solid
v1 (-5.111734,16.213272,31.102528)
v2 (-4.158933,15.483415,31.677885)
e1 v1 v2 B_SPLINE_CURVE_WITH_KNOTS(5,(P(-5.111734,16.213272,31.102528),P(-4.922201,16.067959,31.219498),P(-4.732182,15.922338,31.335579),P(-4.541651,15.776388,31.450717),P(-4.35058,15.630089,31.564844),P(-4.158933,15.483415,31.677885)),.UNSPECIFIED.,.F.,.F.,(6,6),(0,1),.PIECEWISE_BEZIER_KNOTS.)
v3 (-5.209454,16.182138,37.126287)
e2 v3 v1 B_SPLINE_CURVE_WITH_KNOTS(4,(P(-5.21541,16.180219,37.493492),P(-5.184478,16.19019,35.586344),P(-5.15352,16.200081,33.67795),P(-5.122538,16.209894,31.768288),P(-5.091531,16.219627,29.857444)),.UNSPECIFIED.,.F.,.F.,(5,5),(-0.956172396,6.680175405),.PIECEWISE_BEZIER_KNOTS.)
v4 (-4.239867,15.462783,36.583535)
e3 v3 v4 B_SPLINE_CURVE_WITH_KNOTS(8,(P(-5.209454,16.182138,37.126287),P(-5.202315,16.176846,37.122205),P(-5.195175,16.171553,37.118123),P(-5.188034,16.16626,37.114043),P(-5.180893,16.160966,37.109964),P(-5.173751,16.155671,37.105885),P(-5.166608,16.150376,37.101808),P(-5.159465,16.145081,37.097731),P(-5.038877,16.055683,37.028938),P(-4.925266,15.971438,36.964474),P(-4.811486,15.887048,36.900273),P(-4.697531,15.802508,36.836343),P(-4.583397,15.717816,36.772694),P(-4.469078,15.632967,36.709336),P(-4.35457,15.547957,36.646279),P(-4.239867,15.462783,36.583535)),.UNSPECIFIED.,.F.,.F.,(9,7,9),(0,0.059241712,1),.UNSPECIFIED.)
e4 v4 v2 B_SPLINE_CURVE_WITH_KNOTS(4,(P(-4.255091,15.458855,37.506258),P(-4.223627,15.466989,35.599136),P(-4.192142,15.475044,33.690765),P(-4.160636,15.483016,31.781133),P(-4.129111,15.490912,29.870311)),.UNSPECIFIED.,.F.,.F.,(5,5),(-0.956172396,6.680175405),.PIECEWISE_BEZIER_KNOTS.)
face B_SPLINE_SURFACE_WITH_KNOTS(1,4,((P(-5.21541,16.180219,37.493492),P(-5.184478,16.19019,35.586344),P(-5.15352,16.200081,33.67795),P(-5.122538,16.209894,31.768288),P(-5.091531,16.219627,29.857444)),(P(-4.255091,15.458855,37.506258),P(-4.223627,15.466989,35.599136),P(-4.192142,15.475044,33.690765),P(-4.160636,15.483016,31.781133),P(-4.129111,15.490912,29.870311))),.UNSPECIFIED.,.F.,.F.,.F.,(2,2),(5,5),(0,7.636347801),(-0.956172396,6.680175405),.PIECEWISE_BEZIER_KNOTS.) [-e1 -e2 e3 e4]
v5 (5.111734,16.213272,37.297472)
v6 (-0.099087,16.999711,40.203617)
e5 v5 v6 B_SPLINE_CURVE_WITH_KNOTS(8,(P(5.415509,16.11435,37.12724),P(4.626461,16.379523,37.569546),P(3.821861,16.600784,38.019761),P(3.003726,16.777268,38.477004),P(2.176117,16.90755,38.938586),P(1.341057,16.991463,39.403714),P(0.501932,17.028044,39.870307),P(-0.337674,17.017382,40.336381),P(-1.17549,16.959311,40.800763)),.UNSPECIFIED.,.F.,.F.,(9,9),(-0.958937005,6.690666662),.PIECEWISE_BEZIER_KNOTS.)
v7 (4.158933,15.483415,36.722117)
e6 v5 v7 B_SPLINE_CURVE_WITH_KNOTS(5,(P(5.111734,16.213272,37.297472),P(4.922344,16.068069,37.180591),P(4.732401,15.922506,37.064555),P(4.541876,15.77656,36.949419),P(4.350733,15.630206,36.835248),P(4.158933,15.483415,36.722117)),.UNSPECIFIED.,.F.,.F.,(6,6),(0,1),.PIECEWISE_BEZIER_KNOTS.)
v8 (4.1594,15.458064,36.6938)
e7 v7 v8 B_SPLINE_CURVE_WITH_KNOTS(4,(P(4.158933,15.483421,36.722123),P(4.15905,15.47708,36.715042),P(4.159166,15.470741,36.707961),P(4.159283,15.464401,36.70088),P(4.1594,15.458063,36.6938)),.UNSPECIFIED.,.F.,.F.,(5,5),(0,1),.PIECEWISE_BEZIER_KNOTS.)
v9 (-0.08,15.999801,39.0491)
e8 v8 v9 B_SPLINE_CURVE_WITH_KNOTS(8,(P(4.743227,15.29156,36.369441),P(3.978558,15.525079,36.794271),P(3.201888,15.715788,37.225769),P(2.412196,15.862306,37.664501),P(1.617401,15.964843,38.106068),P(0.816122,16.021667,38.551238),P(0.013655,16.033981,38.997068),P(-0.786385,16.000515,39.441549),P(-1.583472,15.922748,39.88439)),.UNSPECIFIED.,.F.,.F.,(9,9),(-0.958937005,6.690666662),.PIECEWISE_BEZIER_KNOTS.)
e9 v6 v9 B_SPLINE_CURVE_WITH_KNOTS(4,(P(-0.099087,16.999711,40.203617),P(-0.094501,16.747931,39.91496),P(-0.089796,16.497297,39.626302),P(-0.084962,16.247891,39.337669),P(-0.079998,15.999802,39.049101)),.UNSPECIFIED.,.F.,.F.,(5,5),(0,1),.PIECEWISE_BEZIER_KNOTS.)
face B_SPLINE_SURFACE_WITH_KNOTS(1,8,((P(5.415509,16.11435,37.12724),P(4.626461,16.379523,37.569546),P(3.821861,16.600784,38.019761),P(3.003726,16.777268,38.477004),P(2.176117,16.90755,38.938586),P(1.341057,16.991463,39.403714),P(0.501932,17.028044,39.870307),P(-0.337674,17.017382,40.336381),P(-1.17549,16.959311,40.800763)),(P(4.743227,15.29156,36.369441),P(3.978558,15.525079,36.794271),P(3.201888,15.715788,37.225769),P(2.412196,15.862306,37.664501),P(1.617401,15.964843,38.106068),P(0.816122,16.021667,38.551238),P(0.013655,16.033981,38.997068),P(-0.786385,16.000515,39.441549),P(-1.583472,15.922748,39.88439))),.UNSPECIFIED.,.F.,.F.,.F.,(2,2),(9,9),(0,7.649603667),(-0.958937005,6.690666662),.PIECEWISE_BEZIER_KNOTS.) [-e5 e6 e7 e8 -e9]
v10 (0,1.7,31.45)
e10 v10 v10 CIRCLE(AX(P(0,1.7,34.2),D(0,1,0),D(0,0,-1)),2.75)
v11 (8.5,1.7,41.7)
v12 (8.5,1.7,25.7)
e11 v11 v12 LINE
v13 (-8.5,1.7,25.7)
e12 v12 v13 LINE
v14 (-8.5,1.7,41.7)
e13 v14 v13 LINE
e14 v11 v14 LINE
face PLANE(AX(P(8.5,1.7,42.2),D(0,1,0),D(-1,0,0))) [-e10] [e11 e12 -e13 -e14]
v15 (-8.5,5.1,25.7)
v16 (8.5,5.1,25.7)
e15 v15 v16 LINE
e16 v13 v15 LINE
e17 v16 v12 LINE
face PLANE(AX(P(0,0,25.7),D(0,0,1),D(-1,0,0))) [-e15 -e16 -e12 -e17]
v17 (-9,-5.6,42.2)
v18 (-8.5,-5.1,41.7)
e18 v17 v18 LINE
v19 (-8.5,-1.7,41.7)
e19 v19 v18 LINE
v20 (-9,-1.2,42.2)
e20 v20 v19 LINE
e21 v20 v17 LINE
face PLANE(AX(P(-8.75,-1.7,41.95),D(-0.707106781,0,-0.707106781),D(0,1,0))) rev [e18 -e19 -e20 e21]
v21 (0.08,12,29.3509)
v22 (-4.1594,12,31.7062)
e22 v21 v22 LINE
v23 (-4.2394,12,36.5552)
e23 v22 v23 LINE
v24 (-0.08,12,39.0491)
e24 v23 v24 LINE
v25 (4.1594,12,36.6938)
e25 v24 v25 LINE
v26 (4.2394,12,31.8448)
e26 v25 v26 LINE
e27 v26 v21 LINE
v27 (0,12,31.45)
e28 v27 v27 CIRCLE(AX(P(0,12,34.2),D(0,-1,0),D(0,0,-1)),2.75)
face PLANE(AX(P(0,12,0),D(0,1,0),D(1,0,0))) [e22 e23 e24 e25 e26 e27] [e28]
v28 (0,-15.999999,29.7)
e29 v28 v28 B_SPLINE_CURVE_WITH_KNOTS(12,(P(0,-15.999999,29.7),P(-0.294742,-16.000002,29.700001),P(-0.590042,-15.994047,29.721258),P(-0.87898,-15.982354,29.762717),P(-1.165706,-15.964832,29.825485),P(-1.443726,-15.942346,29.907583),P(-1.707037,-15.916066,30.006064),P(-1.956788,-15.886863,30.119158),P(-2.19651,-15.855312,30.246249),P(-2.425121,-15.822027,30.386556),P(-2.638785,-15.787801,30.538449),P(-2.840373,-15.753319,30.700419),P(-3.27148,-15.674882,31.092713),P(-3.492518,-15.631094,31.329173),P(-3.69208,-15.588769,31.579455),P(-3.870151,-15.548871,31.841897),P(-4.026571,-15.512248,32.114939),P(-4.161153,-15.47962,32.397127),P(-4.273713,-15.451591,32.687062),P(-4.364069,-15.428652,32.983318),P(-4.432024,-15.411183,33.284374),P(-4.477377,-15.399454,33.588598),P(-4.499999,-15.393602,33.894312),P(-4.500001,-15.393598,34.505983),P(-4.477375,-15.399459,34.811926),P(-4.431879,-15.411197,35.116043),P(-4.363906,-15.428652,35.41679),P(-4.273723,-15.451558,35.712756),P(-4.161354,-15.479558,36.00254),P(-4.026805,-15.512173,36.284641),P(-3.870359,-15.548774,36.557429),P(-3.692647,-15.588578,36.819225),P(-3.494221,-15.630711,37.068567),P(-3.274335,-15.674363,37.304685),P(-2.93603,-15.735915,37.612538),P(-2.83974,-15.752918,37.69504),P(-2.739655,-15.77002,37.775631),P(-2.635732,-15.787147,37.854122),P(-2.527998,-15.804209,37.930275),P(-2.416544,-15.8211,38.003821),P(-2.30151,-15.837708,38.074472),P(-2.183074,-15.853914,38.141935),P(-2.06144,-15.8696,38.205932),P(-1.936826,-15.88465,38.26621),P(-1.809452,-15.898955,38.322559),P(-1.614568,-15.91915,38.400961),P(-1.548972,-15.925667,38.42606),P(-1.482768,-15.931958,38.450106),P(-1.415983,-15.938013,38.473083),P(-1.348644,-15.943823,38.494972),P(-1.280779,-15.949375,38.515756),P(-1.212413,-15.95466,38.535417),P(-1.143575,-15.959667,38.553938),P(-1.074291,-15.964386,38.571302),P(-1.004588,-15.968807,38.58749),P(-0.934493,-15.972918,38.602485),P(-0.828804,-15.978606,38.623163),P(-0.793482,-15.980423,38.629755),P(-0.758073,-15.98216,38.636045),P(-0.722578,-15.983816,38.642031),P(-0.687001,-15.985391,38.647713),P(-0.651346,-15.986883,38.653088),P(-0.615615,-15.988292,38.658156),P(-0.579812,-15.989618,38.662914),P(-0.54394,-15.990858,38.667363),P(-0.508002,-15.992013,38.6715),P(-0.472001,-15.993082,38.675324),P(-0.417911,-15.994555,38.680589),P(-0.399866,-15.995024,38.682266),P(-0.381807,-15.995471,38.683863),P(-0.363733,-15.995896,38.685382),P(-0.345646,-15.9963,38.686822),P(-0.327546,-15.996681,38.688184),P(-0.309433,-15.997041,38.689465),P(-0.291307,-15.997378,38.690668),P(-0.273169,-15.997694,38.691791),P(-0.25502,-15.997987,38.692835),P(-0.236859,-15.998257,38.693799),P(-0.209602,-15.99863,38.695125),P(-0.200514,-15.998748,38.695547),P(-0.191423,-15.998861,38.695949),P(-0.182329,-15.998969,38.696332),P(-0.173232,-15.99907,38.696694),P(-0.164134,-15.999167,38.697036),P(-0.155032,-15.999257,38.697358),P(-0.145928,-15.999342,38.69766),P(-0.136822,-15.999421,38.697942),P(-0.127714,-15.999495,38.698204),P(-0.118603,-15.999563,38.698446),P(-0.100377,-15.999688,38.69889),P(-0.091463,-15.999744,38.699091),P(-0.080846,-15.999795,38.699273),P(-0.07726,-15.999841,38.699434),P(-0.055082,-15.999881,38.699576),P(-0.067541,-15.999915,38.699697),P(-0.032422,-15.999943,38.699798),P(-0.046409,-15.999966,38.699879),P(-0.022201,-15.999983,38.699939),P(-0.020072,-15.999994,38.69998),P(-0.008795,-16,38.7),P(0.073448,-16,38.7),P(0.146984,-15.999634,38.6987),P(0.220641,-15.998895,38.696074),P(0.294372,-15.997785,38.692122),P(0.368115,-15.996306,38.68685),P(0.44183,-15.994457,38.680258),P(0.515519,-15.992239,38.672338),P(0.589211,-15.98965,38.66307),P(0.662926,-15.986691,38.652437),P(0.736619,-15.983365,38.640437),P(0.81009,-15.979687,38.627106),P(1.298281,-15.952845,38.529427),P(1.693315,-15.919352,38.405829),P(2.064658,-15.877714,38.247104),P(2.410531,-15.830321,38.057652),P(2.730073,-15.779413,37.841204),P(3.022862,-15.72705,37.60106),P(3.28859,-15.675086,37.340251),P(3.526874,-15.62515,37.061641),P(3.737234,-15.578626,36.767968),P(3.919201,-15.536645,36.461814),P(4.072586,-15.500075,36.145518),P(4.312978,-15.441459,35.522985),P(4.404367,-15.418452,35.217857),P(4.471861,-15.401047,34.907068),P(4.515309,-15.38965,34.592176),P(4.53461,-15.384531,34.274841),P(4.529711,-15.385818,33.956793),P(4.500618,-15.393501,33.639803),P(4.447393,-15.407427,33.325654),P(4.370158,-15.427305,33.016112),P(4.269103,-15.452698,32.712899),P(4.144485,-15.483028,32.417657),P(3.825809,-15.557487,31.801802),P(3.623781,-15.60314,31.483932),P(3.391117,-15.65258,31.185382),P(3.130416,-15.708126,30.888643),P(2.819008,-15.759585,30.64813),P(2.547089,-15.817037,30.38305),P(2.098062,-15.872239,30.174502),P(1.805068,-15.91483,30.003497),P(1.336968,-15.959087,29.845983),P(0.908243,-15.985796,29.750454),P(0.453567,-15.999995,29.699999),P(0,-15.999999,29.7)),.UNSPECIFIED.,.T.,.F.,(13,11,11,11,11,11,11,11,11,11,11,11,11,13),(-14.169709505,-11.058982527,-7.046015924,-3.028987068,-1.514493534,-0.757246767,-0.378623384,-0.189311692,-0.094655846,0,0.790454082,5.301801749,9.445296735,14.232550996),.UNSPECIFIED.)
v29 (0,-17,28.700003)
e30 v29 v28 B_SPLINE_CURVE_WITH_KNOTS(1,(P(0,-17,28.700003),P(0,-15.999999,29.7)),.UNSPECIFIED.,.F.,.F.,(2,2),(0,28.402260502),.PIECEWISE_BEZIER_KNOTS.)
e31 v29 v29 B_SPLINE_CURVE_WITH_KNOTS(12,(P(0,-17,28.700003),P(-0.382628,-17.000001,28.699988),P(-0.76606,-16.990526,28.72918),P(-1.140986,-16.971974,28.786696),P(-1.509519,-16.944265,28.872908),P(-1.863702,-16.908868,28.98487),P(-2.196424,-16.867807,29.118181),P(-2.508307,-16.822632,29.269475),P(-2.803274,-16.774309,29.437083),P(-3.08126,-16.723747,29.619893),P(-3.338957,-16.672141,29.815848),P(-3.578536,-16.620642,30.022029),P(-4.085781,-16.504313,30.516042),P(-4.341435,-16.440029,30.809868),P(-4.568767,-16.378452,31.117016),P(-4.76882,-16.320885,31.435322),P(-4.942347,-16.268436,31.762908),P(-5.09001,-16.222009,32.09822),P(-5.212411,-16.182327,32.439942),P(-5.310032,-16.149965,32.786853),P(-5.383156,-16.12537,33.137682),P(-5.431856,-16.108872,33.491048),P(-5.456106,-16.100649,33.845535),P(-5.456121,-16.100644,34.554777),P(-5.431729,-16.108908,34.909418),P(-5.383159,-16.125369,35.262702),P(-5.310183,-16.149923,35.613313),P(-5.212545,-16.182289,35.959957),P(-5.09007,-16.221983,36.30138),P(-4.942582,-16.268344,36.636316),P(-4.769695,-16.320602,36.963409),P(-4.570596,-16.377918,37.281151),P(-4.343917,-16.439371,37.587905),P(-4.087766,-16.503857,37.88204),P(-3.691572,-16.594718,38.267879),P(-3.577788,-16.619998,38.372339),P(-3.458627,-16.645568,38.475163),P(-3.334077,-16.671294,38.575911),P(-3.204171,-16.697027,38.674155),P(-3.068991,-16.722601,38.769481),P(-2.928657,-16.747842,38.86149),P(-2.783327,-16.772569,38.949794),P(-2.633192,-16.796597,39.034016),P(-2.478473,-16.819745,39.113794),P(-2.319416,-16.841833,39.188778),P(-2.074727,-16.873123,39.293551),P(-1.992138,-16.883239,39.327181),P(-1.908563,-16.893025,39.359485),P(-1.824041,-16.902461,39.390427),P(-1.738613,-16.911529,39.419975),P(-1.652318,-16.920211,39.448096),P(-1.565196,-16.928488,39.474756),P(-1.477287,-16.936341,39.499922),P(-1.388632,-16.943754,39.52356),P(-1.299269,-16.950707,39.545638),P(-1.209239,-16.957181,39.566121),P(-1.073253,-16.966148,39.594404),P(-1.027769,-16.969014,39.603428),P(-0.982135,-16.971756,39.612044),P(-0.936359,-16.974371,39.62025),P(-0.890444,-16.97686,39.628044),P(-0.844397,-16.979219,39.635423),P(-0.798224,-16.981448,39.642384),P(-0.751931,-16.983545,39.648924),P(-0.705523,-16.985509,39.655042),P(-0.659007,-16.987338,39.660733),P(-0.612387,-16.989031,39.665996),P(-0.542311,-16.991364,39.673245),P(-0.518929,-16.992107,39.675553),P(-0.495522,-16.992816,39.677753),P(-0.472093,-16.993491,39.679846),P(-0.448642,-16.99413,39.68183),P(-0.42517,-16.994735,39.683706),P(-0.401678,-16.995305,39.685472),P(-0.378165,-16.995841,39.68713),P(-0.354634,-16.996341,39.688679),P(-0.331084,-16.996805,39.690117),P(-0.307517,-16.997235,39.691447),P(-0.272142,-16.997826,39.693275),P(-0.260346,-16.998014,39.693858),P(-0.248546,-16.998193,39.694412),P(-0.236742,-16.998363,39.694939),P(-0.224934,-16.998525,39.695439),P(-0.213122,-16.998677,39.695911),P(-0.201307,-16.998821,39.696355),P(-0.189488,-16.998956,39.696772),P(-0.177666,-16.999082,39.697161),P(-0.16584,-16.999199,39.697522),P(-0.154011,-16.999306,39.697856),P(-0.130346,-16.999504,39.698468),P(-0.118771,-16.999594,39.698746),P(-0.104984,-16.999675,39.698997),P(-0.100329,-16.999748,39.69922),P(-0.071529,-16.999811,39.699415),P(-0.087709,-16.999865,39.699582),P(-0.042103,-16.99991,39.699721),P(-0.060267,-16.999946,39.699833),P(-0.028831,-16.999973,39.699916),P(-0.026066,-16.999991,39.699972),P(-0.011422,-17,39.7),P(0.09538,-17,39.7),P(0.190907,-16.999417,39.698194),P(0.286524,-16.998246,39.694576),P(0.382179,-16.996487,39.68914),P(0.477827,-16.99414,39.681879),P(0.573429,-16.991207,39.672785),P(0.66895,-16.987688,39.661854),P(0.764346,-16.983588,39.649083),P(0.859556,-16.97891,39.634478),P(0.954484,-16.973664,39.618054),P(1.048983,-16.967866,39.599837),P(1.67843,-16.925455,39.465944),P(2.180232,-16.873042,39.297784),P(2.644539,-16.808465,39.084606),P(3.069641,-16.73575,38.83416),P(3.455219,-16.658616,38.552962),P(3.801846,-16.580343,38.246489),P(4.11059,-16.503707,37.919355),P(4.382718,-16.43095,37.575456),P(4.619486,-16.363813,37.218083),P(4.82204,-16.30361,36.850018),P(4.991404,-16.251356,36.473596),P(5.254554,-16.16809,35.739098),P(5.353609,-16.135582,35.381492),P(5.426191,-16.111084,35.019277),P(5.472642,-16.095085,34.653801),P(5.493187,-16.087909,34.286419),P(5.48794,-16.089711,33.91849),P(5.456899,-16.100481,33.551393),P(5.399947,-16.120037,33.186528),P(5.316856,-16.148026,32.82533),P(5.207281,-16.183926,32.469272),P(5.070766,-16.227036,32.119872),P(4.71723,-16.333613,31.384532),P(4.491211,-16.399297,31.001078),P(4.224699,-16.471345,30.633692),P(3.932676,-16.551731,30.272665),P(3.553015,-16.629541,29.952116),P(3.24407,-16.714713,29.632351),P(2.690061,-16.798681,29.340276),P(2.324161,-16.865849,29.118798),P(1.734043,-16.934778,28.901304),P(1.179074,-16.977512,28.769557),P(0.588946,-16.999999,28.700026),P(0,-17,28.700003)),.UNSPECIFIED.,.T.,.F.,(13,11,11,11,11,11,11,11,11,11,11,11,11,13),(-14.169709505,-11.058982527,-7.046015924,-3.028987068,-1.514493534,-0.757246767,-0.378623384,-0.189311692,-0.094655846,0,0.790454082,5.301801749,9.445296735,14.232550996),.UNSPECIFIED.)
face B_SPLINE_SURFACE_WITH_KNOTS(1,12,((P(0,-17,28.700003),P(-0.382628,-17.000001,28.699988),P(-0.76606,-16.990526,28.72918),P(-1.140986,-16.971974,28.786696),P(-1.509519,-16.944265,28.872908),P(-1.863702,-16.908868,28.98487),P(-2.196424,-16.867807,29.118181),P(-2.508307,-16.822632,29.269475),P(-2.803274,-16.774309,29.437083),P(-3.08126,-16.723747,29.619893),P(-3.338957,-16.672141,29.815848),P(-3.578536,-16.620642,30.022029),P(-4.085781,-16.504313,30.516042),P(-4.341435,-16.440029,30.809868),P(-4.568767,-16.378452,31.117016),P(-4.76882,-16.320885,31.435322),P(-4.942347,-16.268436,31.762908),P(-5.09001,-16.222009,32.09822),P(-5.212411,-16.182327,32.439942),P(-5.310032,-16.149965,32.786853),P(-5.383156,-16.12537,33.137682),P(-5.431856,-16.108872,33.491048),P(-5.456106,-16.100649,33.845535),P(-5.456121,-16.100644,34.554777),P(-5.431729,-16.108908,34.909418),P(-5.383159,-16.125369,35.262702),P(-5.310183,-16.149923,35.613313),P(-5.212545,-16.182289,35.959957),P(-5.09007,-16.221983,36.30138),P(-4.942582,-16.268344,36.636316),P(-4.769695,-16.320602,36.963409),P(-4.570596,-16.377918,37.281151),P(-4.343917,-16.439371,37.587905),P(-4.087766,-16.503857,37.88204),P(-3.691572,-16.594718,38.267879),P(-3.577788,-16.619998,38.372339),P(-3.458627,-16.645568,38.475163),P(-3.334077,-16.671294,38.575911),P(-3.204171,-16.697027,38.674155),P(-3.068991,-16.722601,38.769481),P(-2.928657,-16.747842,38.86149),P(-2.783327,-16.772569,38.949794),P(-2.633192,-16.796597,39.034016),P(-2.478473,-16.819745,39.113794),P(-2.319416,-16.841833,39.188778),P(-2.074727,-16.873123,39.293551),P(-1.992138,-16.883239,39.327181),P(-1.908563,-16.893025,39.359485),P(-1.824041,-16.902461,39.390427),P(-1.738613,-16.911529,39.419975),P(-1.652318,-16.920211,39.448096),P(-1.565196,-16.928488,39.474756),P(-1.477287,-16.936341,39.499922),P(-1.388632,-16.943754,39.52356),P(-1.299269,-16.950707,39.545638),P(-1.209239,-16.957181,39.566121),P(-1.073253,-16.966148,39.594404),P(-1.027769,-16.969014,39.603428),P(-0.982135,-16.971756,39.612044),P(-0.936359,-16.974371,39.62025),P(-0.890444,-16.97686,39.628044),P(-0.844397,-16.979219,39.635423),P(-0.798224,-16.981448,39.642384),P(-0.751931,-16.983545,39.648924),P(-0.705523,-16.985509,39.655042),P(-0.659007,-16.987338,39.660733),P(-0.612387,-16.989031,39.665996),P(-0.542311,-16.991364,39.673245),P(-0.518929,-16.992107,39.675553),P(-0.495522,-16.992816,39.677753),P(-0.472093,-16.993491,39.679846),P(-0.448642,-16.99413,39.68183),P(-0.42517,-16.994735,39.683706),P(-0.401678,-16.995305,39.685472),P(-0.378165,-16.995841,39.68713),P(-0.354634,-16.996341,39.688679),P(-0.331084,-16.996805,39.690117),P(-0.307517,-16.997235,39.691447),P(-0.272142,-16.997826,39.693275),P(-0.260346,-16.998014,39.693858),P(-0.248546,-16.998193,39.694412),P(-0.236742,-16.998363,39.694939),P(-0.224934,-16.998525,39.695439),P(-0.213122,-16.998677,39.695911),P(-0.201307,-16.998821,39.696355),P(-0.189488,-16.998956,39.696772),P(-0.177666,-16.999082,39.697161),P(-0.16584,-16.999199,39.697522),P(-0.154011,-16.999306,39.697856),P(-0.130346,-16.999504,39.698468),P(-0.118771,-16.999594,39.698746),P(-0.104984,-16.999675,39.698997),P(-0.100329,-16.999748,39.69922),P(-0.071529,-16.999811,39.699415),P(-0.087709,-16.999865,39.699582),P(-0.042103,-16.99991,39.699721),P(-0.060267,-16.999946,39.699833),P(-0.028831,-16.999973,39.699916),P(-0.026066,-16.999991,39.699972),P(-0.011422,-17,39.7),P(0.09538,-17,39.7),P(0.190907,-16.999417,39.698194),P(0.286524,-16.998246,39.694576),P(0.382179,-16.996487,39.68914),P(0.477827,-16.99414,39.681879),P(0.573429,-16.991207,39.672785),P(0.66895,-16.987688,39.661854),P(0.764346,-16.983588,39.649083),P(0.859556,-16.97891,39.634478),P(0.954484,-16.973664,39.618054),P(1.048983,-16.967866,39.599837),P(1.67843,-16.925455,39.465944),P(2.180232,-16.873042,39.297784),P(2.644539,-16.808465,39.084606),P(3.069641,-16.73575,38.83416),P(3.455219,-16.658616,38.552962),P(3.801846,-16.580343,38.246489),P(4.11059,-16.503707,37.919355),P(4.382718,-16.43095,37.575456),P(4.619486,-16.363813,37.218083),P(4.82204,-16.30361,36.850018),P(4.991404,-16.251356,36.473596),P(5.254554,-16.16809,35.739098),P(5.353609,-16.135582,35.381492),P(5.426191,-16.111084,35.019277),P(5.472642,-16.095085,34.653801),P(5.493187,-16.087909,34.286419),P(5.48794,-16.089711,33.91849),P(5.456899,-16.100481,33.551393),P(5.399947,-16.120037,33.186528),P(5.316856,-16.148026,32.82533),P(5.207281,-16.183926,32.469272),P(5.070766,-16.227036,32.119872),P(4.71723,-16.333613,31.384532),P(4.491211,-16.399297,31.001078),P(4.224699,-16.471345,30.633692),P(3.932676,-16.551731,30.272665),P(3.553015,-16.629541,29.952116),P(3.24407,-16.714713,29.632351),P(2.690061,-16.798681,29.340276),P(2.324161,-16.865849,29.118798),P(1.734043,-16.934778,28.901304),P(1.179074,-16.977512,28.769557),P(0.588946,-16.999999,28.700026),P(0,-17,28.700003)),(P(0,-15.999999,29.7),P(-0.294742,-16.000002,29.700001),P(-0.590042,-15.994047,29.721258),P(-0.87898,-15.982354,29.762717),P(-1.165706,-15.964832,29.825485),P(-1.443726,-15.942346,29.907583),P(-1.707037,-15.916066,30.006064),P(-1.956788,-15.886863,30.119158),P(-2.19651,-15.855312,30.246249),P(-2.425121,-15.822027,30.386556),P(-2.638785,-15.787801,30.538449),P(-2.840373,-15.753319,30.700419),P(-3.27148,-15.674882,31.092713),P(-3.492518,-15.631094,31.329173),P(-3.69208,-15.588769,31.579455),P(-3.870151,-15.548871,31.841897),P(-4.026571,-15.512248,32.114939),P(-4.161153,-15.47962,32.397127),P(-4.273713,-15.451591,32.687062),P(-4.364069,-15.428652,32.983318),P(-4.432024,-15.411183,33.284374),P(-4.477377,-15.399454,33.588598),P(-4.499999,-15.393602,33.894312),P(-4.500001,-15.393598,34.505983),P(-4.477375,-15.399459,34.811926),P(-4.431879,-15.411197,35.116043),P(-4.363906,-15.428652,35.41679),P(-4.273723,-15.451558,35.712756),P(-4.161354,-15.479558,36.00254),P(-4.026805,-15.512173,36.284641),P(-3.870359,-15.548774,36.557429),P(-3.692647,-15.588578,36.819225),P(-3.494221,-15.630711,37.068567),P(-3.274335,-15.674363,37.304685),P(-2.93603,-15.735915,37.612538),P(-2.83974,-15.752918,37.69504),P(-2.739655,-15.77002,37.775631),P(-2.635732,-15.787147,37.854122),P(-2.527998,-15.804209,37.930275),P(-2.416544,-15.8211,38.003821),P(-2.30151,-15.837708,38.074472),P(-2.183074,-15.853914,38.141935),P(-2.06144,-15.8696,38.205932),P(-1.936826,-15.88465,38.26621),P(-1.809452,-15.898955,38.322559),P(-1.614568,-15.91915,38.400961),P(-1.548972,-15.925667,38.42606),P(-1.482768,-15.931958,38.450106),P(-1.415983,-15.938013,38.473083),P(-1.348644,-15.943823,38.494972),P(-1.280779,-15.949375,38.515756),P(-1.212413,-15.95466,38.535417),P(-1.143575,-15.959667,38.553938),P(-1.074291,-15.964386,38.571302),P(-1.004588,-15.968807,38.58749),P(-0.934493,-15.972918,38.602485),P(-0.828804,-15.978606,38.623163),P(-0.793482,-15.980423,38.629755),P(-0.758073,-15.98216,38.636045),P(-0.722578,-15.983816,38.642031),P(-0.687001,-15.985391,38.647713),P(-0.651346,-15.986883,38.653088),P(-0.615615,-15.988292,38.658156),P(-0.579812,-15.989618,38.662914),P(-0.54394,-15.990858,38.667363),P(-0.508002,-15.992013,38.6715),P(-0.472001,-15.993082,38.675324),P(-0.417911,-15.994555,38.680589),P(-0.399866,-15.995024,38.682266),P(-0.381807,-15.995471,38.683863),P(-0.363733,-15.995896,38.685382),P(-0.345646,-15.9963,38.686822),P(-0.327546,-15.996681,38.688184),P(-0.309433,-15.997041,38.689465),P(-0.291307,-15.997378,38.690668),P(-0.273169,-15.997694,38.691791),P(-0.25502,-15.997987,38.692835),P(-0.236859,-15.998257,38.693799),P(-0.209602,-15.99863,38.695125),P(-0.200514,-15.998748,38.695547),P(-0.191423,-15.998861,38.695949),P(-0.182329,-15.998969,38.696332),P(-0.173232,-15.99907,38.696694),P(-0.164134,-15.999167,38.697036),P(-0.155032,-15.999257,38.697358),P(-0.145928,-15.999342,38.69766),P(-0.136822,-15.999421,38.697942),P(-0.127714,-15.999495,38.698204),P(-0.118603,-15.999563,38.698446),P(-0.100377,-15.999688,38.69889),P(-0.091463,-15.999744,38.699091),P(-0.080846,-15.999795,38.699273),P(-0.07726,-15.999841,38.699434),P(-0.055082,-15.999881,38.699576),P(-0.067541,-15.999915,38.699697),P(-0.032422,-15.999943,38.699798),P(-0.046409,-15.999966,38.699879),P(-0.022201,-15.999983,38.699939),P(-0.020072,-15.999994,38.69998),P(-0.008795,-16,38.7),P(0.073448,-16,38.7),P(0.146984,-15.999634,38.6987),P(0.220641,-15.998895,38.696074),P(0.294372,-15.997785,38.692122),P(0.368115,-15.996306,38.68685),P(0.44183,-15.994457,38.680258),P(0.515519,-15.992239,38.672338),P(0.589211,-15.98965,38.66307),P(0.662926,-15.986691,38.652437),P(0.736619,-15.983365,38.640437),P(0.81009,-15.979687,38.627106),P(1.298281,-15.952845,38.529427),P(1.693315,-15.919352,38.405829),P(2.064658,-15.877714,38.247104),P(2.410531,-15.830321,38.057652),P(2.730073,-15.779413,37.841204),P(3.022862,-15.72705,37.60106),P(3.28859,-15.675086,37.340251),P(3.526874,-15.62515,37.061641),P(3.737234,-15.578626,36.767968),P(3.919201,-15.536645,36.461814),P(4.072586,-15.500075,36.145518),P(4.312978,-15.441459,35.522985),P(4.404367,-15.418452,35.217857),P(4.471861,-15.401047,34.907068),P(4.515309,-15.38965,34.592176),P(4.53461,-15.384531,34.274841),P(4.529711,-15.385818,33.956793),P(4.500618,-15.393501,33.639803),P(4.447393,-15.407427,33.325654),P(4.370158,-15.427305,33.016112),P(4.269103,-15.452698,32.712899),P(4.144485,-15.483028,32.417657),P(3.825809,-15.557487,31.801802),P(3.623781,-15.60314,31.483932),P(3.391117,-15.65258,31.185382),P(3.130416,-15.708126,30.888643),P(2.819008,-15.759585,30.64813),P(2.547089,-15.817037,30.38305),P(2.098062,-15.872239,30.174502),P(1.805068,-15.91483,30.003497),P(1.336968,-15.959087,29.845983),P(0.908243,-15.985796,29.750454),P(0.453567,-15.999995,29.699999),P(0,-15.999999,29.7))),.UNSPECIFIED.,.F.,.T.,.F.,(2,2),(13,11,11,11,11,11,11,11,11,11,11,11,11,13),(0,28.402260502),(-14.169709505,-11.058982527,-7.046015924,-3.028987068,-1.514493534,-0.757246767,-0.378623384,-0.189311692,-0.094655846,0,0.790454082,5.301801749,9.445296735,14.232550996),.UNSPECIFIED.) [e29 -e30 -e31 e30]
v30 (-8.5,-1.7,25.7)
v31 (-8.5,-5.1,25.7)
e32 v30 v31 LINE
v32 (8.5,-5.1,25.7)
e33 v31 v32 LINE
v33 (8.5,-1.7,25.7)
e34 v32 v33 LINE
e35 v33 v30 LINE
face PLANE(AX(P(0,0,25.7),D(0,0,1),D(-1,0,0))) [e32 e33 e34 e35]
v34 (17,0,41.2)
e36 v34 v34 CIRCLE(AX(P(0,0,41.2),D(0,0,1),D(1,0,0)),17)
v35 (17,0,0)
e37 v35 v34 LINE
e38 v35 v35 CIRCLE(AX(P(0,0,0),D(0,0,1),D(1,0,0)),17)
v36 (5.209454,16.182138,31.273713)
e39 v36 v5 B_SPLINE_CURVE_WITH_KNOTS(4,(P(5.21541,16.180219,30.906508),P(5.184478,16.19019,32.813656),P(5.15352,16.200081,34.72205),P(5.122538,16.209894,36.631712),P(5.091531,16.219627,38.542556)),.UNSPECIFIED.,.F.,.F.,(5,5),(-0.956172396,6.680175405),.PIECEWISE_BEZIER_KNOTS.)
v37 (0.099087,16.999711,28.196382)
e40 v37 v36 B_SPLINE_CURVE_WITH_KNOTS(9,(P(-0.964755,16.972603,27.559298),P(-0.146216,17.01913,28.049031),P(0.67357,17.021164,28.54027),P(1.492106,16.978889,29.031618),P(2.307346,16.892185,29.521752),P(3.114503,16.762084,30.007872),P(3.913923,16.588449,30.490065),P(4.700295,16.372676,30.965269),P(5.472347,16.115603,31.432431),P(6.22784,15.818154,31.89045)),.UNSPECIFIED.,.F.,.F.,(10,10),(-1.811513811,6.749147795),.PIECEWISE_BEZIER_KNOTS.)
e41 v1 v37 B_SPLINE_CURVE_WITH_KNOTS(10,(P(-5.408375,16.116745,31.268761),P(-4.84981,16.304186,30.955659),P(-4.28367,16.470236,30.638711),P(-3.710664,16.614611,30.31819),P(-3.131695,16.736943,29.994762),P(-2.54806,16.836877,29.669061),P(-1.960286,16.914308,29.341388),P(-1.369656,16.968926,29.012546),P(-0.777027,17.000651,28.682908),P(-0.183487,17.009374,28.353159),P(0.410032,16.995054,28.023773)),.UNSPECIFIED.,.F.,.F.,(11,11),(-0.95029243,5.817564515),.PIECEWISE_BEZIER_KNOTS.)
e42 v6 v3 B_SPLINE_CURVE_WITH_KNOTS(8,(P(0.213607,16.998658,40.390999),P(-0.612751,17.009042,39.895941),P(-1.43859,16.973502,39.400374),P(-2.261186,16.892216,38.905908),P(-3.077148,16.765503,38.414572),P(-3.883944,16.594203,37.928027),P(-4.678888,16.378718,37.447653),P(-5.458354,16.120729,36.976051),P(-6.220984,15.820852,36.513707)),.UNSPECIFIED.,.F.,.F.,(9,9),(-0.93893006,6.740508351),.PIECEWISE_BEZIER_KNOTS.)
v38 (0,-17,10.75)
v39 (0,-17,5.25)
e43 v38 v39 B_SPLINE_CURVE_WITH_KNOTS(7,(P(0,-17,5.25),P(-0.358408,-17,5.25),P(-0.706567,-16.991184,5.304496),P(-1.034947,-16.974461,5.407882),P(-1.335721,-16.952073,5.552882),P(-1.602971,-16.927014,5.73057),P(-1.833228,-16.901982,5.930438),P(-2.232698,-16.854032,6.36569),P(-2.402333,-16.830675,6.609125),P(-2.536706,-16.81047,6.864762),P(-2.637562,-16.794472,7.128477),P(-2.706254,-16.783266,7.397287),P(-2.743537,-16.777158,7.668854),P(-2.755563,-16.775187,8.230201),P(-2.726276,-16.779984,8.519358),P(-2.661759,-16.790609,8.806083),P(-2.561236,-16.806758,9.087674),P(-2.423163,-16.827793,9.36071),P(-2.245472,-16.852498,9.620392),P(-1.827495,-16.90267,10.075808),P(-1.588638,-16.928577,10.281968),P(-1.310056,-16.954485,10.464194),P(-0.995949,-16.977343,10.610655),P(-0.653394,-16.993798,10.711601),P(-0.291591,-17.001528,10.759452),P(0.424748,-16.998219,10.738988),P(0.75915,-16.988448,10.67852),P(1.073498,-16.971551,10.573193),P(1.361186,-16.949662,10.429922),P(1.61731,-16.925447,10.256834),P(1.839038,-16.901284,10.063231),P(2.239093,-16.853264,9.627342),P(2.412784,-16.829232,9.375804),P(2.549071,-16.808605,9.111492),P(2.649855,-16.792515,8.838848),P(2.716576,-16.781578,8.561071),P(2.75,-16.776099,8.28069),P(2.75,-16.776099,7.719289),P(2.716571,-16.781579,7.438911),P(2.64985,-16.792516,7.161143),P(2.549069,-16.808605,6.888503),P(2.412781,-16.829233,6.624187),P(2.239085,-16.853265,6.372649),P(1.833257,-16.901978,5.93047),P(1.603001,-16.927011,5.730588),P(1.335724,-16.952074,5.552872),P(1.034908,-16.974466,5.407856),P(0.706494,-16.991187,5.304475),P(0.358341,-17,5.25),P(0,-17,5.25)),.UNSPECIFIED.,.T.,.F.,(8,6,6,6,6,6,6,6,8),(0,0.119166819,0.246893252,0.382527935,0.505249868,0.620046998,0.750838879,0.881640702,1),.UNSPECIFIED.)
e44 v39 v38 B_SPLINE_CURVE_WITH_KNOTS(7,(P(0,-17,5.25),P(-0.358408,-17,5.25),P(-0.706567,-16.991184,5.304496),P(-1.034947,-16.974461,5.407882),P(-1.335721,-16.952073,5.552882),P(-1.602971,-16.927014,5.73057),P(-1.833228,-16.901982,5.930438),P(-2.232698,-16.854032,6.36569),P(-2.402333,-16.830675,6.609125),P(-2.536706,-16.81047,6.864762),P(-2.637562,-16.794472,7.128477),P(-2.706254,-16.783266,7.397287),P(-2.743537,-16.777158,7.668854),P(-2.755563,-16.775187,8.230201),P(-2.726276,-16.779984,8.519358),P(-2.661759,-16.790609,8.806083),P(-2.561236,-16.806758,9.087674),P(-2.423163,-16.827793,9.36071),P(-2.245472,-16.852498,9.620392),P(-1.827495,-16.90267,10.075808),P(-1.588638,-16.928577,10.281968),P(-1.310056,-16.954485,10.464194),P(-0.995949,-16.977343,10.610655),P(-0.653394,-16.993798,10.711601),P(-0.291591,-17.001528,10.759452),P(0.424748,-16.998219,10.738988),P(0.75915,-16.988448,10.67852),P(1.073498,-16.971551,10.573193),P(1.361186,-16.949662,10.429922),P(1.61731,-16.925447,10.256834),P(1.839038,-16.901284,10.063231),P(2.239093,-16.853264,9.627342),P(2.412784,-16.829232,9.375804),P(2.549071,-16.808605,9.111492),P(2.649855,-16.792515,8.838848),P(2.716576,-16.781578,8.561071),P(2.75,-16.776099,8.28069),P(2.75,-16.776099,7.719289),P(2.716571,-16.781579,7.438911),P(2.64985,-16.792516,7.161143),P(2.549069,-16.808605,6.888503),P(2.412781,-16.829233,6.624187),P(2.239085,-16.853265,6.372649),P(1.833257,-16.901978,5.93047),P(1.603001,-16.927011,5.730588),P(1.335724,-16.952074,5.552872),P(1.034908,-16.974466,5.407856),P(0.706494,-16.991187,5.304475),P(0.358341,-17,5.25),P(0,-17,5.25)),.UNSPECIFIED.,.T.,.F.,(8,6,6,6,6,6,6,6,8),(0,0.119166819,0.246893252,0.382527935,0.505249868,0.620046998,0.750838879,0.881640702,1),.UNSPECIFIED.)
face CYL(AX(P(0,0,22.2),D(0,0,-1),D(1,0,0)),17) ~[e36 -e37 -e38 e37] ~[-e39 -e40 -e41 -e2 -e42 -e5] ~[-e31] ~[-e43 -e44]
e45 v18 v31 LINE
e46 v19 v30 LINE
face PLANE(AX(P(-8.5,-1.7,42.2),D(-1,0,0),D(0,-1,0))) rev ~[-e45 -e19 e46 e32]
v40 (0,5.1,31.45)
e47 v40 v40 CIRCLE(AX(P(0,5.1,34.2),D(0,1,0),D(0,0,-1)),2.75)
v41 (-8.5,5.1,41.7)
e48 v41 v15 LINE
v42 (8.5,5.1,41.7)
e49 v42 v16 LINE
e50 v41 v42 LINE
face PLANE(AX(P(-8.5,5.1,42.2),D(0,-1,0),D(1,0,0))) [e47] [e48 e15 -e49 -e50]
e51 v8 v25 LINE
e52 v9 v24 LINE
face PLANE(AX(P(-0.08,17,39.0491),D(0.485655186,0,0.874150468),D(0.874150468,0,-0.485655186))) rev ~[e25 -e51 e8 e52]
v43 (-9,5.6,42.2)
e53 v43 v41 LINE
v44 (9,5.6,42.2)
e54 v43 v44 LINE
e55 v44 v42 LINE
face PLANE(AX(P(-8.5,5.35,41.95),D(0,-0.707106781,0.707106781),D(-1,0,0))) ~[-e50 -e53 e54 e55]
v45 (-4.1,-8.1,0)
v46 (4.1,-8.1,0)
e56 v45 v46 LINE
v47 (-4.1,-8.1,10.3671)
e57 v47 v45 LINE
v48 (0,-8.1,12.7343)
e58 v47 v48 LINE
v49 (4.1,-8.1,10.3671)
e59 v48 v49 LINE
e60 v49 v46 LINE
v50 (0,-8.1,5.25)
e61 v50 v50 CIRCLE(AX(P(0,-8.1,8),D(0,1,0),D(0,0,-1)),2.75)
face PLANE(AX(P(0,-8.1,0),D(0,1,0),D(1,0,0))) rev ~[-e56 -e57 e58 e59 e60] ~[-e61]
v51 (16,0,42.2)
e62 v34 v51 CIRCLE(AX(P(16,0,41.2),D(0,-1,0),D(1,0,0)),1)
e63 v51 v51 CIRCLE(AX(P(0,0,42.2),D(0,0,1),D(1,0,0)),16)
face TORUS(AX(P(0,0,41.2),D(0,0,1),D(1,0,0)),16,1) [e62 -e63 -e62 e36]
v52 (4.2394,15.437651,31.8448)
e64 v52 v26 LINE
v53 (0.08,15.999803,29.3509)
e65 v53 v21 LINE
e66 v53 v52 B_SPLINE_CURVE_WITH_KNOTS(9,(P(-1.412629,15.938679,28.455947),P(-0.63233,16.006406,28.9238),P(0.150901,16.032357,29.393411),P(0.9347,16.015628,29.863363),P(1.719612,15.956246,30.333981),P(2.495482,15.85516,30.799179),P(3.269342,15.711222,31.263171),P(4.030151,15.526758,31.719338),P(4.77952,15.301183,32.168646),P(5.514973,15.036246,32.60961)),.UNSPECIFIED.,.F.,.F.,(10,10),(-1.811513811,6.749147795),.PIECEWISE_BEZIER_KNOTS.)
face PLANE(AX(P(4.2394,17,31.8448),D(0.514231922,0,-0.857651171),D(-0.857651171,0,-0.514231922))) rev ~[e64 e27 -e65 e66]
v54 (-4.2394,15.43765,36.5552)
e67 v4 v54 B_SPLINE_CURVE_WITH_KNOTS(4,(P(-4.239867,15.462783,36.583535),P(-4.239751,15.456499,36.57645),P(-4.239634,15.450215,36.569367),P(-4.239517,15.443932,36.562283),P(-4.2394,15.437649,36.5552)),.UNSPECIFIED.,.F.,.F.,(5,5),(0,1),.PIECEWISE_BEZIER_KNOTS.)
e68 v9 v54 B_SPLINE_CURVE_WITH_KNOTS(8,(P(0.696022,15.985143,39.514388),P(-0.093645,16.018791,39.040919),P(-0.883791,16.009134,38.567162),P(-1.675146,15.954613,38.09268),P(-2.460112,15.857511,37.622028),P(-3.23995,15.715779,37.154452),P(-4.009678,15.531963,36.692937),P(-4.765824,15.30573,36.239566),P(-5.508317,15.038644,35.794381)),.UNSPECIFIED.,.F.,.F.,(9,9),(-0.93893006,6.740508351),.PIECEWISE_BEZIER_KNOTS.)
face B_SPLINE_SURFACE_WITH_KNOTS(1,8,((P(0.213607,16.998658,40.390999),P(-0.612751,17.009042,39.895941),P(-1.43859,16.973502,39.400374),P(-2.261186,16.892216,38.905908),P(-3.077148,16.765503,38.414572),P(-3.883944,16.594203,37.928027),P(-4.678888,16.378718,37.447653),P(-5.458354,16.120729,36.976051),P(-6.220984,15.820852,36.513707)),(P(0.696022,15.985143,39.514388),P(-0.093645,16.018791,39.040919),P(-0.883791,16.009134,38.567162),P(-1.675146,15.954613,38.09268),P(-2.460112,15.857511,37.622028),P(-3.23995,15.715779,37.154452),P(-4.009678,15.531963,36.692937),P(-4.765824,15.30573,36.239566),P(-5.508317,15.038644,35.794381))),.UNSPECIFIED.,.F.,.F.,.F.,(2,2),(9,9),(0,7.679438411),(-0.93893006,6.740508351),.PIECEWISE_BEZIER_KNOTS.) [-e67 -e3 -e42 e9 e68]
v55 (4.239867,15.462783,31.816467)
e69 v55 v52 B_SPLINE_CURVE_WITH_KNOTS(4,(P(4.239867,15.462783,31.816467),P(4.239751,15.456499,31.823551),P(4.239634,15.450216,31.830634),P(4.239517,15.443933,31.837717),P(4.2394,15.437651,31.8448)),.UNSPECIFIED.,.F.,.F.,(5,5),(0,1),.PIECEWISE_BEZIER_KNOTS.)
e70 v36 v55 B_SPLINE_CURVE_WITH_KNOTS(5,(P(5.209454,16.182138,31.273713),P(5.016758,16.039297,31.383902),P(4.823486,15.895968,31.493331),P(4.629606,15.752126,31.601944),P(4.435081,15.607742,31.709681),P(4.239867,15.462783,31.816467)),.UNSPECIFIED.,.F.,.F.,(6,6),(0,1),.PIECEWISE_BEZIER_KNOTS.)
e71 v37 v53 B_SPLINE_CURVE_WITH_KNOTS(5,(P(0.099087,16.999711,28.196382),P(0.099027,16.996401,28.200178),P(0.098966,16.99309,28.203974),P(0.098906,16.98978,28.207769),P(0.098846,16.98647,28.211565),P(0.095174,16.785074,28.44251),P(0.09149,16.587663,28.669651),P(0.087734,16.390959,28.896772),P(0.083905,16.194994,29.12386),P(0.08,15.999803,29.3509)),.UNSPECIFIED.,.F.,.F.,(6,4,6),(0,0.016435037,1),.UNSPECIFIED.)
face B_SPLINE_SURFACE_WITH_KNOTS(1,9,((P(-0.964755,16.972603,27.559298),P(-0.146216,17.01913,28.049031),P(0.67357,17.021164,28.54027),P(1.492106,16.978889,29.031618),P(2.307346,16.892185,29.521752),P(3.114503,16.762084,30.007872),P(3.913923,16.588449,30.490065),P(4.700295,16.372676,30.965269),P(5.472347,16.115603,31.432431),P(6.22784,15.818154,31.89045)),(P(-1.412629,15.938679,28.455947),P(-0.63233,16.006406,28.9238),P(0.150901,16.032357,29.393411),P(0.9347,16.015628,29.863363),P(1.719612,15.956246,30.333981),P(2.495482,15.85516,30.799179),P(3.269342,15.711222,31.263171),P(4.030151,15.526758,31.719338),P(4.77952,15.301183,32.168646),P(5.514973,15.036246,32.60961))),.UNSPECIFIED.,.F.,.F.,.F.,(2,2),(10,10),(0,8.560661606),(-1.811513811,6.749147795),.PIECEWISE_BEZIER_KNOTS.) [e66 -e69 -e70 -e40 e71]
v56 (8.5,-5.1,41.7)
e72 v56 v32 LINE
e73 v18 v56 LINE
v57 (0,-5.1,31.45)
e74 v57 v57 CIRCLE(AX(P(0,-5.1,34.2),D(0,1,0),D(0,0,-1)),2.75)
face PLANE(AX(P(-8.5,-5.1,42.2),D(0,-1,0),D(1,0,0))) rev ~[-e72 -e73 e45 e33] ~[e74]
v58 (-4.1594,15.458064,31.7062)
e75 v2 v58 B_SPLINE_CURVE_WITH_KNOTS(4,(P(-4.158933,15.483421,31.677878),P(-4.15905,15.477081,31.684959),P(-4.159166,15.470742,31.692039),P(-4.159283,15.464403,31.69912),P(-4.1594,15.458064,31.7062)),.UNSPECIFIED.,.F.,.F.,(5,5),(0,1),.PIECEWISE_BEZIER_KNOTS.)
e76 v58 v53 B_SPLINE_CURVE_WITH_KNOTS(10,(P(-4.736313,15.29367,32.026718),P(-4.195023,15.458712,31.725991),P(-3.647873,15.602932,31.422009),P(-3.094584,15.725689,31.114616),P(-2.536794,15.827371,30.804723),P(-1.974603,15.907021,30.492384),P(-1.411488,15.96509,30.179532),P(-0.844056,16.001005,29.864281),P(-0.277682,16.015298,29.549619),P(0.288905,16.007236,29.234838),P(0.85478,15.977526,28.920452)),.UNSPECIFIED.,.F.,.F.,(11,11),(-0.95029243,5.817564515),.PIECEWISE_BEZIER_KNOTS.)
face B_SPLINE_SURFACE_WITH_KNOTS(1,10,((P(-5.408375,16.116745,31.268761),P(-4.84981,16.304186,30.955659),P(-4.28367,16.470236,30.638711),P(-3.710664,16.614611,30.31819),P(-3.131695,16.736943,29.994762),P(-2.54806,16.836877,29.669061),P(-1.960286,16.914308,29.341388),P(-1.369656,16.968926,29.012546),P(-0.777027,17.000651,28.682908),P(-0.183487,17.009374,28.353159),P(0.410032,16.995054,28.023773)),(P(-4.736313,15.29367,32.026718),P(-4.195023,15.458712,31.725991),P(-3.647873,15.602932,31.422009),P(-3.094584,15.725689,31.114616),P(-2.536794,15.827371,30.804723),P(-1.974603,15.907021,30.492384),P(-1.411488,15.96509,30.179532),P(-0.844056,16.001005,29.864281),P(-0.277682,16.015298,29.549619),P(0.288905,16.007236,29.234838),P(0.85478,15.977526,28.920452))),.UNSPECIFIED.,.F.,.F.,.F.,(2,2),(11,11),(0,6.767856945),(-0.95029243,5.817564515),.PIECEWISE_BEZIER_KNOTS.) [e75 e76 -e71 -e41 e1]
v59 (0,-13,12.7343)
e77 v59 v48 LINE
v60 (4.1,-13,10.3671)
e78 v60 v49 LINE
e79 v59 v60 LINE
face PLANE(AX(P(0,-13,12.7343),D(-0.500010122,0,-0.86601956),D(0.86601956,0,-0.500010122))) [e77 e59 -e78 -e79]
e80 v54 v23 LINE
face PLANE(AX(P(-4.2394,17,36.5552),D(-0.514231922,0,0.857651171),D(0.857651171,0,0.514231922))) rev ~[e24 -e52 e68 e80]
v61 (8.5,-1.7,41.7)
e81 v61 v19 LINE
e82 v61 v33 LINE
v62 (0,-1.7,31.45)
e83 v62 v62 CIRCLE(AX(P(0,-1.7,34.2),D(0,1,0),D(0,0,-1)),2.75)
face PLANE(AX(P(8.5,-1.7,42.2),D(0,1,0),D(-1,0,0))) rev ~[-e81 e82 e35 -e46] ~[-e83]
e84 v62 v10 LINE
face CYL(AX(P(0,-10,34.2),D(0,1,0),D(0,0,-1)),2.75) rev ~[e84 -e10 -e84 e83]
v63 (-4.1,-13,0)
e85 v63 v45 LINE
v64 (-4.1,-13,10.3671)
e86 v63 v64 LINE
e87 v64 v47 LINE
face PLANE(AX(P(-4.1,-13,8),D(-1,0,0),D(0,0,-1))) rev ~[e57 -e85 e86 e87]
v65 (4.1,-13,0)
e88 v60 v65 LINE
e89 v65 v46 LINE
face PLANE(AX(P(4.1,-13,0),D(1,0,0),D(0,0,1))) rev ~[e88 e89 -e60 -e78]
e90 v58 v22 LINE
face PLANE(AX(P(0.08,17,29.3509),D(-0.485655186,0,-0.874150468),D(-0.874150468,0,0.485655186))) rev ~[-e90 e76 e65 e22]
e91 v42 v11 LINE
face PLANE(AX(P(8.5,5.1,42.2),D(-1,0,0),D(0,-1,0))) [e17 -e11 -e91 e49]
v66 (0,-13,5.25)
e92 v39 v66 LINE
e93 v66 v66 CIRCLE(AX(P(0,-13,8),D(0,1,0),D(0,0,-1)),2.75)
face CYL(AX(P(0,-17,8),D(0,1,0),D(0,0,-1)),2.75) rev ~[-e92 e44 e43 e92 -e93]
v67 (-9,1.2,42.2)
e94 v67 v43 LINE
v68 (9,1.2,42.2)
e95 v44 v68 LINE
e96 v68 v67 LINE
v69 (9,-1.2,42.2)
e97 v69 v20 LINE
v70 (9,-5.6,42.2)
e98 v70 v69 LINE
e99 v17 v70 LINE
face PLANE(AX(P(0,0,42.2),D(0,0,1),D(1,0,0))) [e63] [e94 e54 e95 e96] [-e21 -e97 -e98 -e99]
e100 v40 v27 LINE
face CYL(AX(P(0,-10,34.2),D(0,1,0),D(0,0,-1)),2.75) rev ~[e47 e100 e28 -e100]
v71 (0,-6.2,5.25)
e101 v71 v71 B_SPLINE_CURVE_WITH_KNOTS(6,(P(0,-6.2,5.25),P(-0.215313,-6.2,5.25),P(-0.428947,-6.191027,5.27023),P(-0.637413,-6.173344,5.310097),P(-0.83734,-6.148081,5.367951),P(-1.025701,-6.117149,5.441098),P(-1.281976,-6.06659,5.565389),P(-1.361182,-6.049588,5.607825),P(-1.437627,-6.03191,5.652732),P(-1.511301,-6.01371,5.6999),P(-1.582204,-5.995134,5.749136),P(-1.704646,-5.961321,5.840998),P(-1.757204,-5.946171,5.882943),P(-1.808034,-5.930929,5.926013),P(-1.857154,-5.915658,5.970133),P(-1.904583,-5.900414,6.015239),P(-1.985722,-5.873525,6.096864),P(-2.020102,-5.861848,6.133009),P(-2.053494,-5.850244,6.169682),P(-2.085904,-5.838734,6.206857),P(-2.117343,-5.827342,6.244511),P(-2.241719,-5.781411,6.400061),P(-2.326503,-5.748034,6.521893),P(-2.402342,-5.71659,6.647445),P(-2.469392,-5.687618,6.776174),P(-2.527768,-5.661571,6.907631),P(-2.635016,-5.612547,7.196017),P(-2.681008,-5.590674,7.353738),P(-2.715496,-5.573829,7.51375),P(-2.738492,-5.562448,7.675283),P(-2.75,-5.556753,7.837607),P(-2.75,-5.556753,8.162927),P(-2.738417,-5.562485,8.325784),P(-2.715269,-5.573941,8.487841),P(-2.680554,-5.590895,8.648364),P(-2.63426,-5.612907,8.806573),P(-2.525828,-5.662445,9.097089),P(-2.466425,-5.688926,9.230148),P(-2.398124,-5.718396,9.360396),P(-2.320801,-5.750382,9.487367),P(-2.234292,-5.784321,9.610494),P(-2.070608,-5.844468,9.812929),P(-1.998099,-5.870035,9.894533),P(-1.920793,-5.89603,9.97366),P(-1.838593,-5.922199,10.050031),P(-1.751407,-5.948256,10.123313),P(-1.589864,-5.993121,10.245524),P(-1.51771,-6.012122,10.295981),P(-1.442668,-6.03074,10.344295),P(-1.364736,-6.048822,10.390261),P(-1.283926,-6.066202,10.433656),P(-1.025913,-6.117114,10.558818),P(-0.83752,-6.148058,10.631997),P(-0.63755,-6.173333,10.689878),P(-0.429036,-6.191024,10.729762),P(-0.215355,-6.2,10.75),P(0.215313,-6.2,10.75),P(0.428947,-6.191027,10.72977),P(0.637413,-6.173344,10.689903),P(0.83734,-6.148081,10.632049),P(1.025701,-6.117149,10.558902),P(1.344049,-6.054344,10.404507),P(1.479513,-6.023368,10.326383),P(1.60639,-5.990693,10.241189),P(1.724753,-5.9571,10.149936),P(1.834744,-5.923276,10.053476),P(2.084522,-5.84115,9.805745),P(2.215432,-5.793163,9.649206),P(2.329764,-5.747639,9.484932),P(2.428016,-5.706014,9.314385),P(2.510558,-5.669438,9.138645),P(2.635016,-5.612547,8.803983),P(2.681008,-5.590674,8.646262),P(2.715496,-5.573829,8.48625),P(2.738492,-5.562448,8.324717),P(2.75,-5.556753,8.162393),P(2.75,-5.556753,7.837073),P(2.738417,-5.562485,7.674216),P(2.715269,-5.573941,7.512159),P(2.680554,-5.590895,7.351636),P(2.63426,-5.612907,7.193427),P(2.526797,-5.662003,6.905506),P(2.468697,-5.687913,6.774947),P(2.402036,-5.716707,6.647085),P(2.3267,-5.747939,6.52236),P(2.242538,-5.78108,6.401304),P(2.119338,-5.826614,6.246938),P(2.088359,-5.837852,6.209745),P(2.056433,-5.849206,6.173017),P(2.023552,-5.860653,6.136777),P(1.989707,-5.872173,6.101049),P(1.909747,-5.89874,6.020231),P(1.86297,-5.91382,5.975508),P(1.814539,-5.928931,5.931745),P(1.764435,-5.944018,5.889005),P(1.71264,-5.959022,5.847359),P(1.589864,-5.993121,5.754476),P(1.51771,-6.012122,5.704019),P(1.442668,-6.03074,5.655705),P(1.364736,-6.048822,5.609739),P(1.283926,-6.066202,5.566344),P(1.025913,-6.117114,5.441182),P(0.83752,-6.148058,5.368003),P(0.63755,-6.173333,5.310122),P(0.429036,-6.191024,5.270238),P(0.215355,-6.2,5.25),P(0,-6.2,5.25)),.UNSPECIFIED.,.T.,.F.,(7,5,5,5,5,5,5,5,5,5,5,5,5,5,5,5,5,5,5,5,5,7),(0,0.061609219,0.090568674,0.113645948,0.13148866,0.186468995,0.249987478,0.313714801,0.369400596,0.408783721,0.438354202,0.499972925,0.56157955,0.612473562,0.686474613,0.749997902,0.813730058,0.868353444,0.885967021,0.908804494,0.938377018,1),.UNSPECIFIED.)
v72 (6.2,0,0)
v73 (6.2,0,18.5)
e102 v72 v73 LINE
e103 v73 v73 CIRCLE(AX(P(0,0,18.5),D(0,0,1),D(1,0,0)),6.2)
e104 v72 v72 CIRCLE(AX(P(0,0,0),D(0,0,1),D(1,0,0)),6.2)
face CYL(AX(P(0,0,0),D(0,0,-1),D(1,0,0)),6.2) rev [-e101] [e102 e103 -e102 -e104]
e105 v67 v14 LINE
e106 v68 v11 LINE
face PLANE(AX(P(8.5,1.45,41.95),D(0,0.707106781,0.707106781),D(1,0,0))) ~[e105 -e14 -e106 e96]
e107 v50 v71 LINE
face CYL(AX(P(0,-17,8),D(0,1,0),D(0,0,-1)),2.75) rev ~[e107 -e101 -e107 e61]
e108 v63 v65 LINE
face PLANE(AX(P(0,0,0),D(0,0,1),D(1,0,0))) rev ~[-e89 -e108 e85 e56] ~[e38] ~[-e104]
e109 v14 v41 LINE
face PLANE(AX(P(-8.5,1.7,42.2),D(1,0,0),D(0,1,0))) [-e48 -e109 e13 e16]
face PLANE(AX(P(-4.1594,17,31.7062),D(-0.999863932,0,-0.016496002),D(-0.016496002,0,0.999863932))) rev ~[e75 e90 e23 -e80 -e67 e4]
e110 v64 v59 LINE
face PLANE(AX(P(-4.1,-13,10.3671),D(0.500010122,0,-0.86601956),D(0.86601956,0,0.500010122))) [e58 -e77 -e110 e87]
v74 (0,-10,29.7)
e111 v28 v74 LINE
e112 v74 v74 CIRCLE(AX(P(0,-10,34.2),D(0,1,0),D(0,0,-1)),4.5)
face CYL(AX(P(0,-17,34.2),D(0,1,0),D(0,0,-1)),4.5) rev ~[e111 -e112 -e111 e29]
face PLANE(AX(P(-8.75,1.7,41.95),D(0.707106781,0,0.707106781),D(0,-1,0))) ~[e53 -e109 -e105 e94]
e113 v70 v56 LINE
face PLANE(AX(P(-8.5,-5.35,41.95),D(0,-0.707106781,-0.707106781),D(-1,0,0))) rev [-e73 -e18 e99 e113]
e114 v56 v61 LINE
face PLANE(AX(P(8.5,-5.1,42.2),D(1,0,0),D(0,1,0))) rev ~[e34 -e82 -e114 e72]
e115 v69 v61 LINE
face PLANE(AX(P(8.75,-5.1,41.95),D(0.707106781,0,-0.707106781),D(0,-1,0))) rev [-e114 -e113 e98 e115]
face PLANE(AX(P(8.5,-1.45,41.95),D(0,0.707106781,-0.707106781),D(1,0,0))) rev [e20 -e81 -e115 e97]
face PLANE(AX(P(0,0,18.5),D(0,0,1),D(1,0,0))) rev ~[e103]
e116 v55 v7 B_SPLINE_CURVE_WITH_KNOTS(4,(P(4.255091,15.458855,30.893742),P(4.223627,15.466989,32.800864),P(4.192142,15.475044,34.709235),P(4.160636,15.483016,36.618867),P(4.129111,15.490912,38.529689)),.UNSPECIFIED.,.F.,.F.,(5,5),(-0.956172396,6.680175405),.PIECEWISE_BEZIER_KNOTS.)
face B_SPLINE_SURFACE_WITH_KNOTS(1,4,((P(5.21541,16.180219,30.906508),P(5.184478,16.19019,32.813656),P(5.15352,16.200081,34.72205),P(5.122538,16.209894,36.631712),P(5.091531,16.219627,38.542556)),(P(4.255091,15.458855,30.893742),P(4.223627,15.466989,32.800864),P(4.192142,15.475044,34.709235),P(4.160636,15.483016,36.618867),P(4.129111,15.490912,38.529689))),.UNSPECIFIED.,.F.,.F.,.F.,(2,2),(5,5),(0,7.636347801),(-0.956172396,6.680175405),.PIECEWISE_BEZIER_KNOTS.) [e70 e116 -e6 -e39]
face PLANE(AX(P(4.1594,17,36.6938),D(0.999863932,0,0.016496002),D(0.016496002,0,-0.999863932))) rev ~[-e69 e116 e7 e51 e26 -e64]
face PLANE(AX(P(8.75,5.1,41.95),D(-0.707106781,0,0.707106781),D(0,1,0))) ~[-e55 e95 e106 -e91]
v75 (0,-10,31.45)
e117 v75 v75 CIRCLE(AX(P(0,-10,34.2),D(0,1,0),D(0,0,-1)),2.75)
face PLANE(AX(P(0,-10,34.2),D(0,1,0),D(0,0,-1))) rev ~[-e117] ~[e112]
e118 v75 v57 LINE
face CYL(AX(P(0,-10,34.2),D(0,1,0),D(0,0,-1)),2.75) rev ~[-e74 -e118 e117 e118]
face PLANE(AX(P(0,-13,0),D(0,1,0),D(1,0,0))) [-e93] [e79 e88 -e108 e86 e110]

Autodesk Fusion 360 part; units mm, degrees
sketch "Esquisse1" plane through (0, 0, 0) normal (0, 0, 1) x (1, 0, 0)
  circle A0 centre (0, 0) radius 17
  circle A1 centre (0, 0) radius 6.2
  dimension "d1" = 34
  dimension "d2" = 12.4
extrude "Extrusion1" add sketch "Esquisse1" along normal blind 22.2 contours A0 | A1
extrude "Extrusion2" cut sketch "Esquisse1" along normal blind 18.5 contours A1
hole "Perçage1" at (0, -17, 8) direction (0, 1, 0) diameter 5.5 depth 17 tip angle 180
ref_plane "Plan de construction1" through (0, -13, 0) normal (0, 1, 0) x (0, 0, 1)
sketch "Esquisse2" plane through (0, -13, 0) normal (0, 1, 0) x (1, 0, 0)
  line L0 (-4.1, 0) -> (4.1, 0)
  line L1 (4.1, 0) -> (4.1, -8)
  line L2 (-4.1, -8) -> (-4.1, 0)
  line L3 (-4.1, -10.3671) -> (0, -12.7343)
  line L4 (0, -12.7343) -> (4.1, -10.3671)
  line L5 (-4.1, -10.3671) -> (-4.1, -8)
  line L6 (4.1, -10.3671) -> (4.1, -8)
  point P0 (0, -8)
  dimension "d12" = 8.2
  dimension "d13" = 4.1
  dimension "d14" = 8
extrude "Extrusion3" cut sketch "Esquisse2" along normal blind 4.9
extrude "Extrusion4" add 1 faces at (1.6321, -3.8543, 22.2) along direction (0, 0, 1) blind 20
sketch "Esquisse5" plane through (0, 0, 42.2) normal (0, 0, 1) x (-1, 0, 0)
  circle A0 centre (0, 0) radius 17
  line L0 (8.5, 5.1) -> (-8.5, 5.1)
  line L1 (-8.5, 5.1) -> (-8.5, 1.7)
  line L2 (-8.5, 1.7) -> (8.5, 1.7)
  line L3 (8.5, 1.7) -> (8.5, 5.1)
  line L4 (11.5333, 0) -> (-9, 0) construction
  line L5 (-8.5, -1.7) -> (8.5, -1.7)
  line L6 (8.5, -1.7) -> (8.5, -5.1)
  line L7 (8.5, -5.1) -> (-8.5, -5.1)
  line L8 (-8.5, -5.1) -> (-8.5, -1.7)
  dimension "d20" = 17
  dimension "d21" = 3.4
  dimension "d22" = 8.5
  dimension "d23" = 1.7
extrude "Extrusion5" cut sketch "Esquisse5" against normal blind 16.5 contours L0 L1 L2 L3 | L5 L6 L7 L8
hole "Perçage2" at (0, -17, 34.2) direction (0, 1, 0) diameter 5.5 depth 41 tip angle 180 counterbore diameter 9 counterbore depth 7
sketch "Esquisse6" plane through (0, 0, 0) normal (0, 1, 0) x (1, 0, 0)
ref_plane "Plan de construction2" through (0, 17, 0) normal (0, 1, 0) x (0, 0, 1)
sketch "Esquisse7" plane through (0, 17, 0) normal (0, 1, 0) x (1, 0, 0)
  line L0 (0.2093, -36.942) -> (6.8092, -36.4383) construction
  circle A0 centre (0, -34.2) radius 2.75
  line L1 (0.2093, -36.942) -> (0, -34.2) construction
  line L2 (-4.1594, -31.7062) -> (-4.2394, -36.5552)
  line L3 (-4.2394, -36.5552) -> (-0.08, -39.0491)
  line L4 (-0.08, -39.0491) -> (4.1594, -36.6938)
  line L5 (4.1594, -36.6938) -> (4.2394, -31.8448)
  line L6 (4.2394, -31.8448) -> (0.08, -29.3509)
  line L7 (0.08, -29.3509) -> (-4.1594, -31.7062)
  point P0 (0, -34.2)
  dimension "d33" = 4.2
extrude "Extrusion6" cut sketch "Esquisse7" against normal blind 5
chamfer "Chanfrein1" distance 0.5 angle 45 8 edges at (0, 1.7, 42.2) (8.5, 3.4, 42.2) (0, 5.1, 42.2) (-8.5, 3.4, 42.2) (0, -1.7, 42.2) (-8.5, -3.4, 42.2) (0, -5.1, 42.2) (8.5, -3.4, 42.2)
chamfer "Chanfrein2" distance 1 angle 45 2 edges at (4.5, -16.3936, 34.2) (-4.5, -16.3936, 34.2)
chamfer "Chanfrein3" distance 1 angle 45 6 edges at (2.1763, 16.8601, 30.6078) (4.1994, 16.4732, 34.2685) (2.056, 16.8752, 37.8624) (-2.1763, 16.8601, 37.7922) (-4.1994, 16.4732, 34.1315) (-2.056, 16.8752, 30.5376)
fillet "Congé1" radius 1 1 edges at (-15.8496, -6.1475, 42.2)
equation "d13 = d12 / 2"
equation "d22 = d20 / 2"
equation "d23 = ( 3.4 / 2 ) * 1 mm"
